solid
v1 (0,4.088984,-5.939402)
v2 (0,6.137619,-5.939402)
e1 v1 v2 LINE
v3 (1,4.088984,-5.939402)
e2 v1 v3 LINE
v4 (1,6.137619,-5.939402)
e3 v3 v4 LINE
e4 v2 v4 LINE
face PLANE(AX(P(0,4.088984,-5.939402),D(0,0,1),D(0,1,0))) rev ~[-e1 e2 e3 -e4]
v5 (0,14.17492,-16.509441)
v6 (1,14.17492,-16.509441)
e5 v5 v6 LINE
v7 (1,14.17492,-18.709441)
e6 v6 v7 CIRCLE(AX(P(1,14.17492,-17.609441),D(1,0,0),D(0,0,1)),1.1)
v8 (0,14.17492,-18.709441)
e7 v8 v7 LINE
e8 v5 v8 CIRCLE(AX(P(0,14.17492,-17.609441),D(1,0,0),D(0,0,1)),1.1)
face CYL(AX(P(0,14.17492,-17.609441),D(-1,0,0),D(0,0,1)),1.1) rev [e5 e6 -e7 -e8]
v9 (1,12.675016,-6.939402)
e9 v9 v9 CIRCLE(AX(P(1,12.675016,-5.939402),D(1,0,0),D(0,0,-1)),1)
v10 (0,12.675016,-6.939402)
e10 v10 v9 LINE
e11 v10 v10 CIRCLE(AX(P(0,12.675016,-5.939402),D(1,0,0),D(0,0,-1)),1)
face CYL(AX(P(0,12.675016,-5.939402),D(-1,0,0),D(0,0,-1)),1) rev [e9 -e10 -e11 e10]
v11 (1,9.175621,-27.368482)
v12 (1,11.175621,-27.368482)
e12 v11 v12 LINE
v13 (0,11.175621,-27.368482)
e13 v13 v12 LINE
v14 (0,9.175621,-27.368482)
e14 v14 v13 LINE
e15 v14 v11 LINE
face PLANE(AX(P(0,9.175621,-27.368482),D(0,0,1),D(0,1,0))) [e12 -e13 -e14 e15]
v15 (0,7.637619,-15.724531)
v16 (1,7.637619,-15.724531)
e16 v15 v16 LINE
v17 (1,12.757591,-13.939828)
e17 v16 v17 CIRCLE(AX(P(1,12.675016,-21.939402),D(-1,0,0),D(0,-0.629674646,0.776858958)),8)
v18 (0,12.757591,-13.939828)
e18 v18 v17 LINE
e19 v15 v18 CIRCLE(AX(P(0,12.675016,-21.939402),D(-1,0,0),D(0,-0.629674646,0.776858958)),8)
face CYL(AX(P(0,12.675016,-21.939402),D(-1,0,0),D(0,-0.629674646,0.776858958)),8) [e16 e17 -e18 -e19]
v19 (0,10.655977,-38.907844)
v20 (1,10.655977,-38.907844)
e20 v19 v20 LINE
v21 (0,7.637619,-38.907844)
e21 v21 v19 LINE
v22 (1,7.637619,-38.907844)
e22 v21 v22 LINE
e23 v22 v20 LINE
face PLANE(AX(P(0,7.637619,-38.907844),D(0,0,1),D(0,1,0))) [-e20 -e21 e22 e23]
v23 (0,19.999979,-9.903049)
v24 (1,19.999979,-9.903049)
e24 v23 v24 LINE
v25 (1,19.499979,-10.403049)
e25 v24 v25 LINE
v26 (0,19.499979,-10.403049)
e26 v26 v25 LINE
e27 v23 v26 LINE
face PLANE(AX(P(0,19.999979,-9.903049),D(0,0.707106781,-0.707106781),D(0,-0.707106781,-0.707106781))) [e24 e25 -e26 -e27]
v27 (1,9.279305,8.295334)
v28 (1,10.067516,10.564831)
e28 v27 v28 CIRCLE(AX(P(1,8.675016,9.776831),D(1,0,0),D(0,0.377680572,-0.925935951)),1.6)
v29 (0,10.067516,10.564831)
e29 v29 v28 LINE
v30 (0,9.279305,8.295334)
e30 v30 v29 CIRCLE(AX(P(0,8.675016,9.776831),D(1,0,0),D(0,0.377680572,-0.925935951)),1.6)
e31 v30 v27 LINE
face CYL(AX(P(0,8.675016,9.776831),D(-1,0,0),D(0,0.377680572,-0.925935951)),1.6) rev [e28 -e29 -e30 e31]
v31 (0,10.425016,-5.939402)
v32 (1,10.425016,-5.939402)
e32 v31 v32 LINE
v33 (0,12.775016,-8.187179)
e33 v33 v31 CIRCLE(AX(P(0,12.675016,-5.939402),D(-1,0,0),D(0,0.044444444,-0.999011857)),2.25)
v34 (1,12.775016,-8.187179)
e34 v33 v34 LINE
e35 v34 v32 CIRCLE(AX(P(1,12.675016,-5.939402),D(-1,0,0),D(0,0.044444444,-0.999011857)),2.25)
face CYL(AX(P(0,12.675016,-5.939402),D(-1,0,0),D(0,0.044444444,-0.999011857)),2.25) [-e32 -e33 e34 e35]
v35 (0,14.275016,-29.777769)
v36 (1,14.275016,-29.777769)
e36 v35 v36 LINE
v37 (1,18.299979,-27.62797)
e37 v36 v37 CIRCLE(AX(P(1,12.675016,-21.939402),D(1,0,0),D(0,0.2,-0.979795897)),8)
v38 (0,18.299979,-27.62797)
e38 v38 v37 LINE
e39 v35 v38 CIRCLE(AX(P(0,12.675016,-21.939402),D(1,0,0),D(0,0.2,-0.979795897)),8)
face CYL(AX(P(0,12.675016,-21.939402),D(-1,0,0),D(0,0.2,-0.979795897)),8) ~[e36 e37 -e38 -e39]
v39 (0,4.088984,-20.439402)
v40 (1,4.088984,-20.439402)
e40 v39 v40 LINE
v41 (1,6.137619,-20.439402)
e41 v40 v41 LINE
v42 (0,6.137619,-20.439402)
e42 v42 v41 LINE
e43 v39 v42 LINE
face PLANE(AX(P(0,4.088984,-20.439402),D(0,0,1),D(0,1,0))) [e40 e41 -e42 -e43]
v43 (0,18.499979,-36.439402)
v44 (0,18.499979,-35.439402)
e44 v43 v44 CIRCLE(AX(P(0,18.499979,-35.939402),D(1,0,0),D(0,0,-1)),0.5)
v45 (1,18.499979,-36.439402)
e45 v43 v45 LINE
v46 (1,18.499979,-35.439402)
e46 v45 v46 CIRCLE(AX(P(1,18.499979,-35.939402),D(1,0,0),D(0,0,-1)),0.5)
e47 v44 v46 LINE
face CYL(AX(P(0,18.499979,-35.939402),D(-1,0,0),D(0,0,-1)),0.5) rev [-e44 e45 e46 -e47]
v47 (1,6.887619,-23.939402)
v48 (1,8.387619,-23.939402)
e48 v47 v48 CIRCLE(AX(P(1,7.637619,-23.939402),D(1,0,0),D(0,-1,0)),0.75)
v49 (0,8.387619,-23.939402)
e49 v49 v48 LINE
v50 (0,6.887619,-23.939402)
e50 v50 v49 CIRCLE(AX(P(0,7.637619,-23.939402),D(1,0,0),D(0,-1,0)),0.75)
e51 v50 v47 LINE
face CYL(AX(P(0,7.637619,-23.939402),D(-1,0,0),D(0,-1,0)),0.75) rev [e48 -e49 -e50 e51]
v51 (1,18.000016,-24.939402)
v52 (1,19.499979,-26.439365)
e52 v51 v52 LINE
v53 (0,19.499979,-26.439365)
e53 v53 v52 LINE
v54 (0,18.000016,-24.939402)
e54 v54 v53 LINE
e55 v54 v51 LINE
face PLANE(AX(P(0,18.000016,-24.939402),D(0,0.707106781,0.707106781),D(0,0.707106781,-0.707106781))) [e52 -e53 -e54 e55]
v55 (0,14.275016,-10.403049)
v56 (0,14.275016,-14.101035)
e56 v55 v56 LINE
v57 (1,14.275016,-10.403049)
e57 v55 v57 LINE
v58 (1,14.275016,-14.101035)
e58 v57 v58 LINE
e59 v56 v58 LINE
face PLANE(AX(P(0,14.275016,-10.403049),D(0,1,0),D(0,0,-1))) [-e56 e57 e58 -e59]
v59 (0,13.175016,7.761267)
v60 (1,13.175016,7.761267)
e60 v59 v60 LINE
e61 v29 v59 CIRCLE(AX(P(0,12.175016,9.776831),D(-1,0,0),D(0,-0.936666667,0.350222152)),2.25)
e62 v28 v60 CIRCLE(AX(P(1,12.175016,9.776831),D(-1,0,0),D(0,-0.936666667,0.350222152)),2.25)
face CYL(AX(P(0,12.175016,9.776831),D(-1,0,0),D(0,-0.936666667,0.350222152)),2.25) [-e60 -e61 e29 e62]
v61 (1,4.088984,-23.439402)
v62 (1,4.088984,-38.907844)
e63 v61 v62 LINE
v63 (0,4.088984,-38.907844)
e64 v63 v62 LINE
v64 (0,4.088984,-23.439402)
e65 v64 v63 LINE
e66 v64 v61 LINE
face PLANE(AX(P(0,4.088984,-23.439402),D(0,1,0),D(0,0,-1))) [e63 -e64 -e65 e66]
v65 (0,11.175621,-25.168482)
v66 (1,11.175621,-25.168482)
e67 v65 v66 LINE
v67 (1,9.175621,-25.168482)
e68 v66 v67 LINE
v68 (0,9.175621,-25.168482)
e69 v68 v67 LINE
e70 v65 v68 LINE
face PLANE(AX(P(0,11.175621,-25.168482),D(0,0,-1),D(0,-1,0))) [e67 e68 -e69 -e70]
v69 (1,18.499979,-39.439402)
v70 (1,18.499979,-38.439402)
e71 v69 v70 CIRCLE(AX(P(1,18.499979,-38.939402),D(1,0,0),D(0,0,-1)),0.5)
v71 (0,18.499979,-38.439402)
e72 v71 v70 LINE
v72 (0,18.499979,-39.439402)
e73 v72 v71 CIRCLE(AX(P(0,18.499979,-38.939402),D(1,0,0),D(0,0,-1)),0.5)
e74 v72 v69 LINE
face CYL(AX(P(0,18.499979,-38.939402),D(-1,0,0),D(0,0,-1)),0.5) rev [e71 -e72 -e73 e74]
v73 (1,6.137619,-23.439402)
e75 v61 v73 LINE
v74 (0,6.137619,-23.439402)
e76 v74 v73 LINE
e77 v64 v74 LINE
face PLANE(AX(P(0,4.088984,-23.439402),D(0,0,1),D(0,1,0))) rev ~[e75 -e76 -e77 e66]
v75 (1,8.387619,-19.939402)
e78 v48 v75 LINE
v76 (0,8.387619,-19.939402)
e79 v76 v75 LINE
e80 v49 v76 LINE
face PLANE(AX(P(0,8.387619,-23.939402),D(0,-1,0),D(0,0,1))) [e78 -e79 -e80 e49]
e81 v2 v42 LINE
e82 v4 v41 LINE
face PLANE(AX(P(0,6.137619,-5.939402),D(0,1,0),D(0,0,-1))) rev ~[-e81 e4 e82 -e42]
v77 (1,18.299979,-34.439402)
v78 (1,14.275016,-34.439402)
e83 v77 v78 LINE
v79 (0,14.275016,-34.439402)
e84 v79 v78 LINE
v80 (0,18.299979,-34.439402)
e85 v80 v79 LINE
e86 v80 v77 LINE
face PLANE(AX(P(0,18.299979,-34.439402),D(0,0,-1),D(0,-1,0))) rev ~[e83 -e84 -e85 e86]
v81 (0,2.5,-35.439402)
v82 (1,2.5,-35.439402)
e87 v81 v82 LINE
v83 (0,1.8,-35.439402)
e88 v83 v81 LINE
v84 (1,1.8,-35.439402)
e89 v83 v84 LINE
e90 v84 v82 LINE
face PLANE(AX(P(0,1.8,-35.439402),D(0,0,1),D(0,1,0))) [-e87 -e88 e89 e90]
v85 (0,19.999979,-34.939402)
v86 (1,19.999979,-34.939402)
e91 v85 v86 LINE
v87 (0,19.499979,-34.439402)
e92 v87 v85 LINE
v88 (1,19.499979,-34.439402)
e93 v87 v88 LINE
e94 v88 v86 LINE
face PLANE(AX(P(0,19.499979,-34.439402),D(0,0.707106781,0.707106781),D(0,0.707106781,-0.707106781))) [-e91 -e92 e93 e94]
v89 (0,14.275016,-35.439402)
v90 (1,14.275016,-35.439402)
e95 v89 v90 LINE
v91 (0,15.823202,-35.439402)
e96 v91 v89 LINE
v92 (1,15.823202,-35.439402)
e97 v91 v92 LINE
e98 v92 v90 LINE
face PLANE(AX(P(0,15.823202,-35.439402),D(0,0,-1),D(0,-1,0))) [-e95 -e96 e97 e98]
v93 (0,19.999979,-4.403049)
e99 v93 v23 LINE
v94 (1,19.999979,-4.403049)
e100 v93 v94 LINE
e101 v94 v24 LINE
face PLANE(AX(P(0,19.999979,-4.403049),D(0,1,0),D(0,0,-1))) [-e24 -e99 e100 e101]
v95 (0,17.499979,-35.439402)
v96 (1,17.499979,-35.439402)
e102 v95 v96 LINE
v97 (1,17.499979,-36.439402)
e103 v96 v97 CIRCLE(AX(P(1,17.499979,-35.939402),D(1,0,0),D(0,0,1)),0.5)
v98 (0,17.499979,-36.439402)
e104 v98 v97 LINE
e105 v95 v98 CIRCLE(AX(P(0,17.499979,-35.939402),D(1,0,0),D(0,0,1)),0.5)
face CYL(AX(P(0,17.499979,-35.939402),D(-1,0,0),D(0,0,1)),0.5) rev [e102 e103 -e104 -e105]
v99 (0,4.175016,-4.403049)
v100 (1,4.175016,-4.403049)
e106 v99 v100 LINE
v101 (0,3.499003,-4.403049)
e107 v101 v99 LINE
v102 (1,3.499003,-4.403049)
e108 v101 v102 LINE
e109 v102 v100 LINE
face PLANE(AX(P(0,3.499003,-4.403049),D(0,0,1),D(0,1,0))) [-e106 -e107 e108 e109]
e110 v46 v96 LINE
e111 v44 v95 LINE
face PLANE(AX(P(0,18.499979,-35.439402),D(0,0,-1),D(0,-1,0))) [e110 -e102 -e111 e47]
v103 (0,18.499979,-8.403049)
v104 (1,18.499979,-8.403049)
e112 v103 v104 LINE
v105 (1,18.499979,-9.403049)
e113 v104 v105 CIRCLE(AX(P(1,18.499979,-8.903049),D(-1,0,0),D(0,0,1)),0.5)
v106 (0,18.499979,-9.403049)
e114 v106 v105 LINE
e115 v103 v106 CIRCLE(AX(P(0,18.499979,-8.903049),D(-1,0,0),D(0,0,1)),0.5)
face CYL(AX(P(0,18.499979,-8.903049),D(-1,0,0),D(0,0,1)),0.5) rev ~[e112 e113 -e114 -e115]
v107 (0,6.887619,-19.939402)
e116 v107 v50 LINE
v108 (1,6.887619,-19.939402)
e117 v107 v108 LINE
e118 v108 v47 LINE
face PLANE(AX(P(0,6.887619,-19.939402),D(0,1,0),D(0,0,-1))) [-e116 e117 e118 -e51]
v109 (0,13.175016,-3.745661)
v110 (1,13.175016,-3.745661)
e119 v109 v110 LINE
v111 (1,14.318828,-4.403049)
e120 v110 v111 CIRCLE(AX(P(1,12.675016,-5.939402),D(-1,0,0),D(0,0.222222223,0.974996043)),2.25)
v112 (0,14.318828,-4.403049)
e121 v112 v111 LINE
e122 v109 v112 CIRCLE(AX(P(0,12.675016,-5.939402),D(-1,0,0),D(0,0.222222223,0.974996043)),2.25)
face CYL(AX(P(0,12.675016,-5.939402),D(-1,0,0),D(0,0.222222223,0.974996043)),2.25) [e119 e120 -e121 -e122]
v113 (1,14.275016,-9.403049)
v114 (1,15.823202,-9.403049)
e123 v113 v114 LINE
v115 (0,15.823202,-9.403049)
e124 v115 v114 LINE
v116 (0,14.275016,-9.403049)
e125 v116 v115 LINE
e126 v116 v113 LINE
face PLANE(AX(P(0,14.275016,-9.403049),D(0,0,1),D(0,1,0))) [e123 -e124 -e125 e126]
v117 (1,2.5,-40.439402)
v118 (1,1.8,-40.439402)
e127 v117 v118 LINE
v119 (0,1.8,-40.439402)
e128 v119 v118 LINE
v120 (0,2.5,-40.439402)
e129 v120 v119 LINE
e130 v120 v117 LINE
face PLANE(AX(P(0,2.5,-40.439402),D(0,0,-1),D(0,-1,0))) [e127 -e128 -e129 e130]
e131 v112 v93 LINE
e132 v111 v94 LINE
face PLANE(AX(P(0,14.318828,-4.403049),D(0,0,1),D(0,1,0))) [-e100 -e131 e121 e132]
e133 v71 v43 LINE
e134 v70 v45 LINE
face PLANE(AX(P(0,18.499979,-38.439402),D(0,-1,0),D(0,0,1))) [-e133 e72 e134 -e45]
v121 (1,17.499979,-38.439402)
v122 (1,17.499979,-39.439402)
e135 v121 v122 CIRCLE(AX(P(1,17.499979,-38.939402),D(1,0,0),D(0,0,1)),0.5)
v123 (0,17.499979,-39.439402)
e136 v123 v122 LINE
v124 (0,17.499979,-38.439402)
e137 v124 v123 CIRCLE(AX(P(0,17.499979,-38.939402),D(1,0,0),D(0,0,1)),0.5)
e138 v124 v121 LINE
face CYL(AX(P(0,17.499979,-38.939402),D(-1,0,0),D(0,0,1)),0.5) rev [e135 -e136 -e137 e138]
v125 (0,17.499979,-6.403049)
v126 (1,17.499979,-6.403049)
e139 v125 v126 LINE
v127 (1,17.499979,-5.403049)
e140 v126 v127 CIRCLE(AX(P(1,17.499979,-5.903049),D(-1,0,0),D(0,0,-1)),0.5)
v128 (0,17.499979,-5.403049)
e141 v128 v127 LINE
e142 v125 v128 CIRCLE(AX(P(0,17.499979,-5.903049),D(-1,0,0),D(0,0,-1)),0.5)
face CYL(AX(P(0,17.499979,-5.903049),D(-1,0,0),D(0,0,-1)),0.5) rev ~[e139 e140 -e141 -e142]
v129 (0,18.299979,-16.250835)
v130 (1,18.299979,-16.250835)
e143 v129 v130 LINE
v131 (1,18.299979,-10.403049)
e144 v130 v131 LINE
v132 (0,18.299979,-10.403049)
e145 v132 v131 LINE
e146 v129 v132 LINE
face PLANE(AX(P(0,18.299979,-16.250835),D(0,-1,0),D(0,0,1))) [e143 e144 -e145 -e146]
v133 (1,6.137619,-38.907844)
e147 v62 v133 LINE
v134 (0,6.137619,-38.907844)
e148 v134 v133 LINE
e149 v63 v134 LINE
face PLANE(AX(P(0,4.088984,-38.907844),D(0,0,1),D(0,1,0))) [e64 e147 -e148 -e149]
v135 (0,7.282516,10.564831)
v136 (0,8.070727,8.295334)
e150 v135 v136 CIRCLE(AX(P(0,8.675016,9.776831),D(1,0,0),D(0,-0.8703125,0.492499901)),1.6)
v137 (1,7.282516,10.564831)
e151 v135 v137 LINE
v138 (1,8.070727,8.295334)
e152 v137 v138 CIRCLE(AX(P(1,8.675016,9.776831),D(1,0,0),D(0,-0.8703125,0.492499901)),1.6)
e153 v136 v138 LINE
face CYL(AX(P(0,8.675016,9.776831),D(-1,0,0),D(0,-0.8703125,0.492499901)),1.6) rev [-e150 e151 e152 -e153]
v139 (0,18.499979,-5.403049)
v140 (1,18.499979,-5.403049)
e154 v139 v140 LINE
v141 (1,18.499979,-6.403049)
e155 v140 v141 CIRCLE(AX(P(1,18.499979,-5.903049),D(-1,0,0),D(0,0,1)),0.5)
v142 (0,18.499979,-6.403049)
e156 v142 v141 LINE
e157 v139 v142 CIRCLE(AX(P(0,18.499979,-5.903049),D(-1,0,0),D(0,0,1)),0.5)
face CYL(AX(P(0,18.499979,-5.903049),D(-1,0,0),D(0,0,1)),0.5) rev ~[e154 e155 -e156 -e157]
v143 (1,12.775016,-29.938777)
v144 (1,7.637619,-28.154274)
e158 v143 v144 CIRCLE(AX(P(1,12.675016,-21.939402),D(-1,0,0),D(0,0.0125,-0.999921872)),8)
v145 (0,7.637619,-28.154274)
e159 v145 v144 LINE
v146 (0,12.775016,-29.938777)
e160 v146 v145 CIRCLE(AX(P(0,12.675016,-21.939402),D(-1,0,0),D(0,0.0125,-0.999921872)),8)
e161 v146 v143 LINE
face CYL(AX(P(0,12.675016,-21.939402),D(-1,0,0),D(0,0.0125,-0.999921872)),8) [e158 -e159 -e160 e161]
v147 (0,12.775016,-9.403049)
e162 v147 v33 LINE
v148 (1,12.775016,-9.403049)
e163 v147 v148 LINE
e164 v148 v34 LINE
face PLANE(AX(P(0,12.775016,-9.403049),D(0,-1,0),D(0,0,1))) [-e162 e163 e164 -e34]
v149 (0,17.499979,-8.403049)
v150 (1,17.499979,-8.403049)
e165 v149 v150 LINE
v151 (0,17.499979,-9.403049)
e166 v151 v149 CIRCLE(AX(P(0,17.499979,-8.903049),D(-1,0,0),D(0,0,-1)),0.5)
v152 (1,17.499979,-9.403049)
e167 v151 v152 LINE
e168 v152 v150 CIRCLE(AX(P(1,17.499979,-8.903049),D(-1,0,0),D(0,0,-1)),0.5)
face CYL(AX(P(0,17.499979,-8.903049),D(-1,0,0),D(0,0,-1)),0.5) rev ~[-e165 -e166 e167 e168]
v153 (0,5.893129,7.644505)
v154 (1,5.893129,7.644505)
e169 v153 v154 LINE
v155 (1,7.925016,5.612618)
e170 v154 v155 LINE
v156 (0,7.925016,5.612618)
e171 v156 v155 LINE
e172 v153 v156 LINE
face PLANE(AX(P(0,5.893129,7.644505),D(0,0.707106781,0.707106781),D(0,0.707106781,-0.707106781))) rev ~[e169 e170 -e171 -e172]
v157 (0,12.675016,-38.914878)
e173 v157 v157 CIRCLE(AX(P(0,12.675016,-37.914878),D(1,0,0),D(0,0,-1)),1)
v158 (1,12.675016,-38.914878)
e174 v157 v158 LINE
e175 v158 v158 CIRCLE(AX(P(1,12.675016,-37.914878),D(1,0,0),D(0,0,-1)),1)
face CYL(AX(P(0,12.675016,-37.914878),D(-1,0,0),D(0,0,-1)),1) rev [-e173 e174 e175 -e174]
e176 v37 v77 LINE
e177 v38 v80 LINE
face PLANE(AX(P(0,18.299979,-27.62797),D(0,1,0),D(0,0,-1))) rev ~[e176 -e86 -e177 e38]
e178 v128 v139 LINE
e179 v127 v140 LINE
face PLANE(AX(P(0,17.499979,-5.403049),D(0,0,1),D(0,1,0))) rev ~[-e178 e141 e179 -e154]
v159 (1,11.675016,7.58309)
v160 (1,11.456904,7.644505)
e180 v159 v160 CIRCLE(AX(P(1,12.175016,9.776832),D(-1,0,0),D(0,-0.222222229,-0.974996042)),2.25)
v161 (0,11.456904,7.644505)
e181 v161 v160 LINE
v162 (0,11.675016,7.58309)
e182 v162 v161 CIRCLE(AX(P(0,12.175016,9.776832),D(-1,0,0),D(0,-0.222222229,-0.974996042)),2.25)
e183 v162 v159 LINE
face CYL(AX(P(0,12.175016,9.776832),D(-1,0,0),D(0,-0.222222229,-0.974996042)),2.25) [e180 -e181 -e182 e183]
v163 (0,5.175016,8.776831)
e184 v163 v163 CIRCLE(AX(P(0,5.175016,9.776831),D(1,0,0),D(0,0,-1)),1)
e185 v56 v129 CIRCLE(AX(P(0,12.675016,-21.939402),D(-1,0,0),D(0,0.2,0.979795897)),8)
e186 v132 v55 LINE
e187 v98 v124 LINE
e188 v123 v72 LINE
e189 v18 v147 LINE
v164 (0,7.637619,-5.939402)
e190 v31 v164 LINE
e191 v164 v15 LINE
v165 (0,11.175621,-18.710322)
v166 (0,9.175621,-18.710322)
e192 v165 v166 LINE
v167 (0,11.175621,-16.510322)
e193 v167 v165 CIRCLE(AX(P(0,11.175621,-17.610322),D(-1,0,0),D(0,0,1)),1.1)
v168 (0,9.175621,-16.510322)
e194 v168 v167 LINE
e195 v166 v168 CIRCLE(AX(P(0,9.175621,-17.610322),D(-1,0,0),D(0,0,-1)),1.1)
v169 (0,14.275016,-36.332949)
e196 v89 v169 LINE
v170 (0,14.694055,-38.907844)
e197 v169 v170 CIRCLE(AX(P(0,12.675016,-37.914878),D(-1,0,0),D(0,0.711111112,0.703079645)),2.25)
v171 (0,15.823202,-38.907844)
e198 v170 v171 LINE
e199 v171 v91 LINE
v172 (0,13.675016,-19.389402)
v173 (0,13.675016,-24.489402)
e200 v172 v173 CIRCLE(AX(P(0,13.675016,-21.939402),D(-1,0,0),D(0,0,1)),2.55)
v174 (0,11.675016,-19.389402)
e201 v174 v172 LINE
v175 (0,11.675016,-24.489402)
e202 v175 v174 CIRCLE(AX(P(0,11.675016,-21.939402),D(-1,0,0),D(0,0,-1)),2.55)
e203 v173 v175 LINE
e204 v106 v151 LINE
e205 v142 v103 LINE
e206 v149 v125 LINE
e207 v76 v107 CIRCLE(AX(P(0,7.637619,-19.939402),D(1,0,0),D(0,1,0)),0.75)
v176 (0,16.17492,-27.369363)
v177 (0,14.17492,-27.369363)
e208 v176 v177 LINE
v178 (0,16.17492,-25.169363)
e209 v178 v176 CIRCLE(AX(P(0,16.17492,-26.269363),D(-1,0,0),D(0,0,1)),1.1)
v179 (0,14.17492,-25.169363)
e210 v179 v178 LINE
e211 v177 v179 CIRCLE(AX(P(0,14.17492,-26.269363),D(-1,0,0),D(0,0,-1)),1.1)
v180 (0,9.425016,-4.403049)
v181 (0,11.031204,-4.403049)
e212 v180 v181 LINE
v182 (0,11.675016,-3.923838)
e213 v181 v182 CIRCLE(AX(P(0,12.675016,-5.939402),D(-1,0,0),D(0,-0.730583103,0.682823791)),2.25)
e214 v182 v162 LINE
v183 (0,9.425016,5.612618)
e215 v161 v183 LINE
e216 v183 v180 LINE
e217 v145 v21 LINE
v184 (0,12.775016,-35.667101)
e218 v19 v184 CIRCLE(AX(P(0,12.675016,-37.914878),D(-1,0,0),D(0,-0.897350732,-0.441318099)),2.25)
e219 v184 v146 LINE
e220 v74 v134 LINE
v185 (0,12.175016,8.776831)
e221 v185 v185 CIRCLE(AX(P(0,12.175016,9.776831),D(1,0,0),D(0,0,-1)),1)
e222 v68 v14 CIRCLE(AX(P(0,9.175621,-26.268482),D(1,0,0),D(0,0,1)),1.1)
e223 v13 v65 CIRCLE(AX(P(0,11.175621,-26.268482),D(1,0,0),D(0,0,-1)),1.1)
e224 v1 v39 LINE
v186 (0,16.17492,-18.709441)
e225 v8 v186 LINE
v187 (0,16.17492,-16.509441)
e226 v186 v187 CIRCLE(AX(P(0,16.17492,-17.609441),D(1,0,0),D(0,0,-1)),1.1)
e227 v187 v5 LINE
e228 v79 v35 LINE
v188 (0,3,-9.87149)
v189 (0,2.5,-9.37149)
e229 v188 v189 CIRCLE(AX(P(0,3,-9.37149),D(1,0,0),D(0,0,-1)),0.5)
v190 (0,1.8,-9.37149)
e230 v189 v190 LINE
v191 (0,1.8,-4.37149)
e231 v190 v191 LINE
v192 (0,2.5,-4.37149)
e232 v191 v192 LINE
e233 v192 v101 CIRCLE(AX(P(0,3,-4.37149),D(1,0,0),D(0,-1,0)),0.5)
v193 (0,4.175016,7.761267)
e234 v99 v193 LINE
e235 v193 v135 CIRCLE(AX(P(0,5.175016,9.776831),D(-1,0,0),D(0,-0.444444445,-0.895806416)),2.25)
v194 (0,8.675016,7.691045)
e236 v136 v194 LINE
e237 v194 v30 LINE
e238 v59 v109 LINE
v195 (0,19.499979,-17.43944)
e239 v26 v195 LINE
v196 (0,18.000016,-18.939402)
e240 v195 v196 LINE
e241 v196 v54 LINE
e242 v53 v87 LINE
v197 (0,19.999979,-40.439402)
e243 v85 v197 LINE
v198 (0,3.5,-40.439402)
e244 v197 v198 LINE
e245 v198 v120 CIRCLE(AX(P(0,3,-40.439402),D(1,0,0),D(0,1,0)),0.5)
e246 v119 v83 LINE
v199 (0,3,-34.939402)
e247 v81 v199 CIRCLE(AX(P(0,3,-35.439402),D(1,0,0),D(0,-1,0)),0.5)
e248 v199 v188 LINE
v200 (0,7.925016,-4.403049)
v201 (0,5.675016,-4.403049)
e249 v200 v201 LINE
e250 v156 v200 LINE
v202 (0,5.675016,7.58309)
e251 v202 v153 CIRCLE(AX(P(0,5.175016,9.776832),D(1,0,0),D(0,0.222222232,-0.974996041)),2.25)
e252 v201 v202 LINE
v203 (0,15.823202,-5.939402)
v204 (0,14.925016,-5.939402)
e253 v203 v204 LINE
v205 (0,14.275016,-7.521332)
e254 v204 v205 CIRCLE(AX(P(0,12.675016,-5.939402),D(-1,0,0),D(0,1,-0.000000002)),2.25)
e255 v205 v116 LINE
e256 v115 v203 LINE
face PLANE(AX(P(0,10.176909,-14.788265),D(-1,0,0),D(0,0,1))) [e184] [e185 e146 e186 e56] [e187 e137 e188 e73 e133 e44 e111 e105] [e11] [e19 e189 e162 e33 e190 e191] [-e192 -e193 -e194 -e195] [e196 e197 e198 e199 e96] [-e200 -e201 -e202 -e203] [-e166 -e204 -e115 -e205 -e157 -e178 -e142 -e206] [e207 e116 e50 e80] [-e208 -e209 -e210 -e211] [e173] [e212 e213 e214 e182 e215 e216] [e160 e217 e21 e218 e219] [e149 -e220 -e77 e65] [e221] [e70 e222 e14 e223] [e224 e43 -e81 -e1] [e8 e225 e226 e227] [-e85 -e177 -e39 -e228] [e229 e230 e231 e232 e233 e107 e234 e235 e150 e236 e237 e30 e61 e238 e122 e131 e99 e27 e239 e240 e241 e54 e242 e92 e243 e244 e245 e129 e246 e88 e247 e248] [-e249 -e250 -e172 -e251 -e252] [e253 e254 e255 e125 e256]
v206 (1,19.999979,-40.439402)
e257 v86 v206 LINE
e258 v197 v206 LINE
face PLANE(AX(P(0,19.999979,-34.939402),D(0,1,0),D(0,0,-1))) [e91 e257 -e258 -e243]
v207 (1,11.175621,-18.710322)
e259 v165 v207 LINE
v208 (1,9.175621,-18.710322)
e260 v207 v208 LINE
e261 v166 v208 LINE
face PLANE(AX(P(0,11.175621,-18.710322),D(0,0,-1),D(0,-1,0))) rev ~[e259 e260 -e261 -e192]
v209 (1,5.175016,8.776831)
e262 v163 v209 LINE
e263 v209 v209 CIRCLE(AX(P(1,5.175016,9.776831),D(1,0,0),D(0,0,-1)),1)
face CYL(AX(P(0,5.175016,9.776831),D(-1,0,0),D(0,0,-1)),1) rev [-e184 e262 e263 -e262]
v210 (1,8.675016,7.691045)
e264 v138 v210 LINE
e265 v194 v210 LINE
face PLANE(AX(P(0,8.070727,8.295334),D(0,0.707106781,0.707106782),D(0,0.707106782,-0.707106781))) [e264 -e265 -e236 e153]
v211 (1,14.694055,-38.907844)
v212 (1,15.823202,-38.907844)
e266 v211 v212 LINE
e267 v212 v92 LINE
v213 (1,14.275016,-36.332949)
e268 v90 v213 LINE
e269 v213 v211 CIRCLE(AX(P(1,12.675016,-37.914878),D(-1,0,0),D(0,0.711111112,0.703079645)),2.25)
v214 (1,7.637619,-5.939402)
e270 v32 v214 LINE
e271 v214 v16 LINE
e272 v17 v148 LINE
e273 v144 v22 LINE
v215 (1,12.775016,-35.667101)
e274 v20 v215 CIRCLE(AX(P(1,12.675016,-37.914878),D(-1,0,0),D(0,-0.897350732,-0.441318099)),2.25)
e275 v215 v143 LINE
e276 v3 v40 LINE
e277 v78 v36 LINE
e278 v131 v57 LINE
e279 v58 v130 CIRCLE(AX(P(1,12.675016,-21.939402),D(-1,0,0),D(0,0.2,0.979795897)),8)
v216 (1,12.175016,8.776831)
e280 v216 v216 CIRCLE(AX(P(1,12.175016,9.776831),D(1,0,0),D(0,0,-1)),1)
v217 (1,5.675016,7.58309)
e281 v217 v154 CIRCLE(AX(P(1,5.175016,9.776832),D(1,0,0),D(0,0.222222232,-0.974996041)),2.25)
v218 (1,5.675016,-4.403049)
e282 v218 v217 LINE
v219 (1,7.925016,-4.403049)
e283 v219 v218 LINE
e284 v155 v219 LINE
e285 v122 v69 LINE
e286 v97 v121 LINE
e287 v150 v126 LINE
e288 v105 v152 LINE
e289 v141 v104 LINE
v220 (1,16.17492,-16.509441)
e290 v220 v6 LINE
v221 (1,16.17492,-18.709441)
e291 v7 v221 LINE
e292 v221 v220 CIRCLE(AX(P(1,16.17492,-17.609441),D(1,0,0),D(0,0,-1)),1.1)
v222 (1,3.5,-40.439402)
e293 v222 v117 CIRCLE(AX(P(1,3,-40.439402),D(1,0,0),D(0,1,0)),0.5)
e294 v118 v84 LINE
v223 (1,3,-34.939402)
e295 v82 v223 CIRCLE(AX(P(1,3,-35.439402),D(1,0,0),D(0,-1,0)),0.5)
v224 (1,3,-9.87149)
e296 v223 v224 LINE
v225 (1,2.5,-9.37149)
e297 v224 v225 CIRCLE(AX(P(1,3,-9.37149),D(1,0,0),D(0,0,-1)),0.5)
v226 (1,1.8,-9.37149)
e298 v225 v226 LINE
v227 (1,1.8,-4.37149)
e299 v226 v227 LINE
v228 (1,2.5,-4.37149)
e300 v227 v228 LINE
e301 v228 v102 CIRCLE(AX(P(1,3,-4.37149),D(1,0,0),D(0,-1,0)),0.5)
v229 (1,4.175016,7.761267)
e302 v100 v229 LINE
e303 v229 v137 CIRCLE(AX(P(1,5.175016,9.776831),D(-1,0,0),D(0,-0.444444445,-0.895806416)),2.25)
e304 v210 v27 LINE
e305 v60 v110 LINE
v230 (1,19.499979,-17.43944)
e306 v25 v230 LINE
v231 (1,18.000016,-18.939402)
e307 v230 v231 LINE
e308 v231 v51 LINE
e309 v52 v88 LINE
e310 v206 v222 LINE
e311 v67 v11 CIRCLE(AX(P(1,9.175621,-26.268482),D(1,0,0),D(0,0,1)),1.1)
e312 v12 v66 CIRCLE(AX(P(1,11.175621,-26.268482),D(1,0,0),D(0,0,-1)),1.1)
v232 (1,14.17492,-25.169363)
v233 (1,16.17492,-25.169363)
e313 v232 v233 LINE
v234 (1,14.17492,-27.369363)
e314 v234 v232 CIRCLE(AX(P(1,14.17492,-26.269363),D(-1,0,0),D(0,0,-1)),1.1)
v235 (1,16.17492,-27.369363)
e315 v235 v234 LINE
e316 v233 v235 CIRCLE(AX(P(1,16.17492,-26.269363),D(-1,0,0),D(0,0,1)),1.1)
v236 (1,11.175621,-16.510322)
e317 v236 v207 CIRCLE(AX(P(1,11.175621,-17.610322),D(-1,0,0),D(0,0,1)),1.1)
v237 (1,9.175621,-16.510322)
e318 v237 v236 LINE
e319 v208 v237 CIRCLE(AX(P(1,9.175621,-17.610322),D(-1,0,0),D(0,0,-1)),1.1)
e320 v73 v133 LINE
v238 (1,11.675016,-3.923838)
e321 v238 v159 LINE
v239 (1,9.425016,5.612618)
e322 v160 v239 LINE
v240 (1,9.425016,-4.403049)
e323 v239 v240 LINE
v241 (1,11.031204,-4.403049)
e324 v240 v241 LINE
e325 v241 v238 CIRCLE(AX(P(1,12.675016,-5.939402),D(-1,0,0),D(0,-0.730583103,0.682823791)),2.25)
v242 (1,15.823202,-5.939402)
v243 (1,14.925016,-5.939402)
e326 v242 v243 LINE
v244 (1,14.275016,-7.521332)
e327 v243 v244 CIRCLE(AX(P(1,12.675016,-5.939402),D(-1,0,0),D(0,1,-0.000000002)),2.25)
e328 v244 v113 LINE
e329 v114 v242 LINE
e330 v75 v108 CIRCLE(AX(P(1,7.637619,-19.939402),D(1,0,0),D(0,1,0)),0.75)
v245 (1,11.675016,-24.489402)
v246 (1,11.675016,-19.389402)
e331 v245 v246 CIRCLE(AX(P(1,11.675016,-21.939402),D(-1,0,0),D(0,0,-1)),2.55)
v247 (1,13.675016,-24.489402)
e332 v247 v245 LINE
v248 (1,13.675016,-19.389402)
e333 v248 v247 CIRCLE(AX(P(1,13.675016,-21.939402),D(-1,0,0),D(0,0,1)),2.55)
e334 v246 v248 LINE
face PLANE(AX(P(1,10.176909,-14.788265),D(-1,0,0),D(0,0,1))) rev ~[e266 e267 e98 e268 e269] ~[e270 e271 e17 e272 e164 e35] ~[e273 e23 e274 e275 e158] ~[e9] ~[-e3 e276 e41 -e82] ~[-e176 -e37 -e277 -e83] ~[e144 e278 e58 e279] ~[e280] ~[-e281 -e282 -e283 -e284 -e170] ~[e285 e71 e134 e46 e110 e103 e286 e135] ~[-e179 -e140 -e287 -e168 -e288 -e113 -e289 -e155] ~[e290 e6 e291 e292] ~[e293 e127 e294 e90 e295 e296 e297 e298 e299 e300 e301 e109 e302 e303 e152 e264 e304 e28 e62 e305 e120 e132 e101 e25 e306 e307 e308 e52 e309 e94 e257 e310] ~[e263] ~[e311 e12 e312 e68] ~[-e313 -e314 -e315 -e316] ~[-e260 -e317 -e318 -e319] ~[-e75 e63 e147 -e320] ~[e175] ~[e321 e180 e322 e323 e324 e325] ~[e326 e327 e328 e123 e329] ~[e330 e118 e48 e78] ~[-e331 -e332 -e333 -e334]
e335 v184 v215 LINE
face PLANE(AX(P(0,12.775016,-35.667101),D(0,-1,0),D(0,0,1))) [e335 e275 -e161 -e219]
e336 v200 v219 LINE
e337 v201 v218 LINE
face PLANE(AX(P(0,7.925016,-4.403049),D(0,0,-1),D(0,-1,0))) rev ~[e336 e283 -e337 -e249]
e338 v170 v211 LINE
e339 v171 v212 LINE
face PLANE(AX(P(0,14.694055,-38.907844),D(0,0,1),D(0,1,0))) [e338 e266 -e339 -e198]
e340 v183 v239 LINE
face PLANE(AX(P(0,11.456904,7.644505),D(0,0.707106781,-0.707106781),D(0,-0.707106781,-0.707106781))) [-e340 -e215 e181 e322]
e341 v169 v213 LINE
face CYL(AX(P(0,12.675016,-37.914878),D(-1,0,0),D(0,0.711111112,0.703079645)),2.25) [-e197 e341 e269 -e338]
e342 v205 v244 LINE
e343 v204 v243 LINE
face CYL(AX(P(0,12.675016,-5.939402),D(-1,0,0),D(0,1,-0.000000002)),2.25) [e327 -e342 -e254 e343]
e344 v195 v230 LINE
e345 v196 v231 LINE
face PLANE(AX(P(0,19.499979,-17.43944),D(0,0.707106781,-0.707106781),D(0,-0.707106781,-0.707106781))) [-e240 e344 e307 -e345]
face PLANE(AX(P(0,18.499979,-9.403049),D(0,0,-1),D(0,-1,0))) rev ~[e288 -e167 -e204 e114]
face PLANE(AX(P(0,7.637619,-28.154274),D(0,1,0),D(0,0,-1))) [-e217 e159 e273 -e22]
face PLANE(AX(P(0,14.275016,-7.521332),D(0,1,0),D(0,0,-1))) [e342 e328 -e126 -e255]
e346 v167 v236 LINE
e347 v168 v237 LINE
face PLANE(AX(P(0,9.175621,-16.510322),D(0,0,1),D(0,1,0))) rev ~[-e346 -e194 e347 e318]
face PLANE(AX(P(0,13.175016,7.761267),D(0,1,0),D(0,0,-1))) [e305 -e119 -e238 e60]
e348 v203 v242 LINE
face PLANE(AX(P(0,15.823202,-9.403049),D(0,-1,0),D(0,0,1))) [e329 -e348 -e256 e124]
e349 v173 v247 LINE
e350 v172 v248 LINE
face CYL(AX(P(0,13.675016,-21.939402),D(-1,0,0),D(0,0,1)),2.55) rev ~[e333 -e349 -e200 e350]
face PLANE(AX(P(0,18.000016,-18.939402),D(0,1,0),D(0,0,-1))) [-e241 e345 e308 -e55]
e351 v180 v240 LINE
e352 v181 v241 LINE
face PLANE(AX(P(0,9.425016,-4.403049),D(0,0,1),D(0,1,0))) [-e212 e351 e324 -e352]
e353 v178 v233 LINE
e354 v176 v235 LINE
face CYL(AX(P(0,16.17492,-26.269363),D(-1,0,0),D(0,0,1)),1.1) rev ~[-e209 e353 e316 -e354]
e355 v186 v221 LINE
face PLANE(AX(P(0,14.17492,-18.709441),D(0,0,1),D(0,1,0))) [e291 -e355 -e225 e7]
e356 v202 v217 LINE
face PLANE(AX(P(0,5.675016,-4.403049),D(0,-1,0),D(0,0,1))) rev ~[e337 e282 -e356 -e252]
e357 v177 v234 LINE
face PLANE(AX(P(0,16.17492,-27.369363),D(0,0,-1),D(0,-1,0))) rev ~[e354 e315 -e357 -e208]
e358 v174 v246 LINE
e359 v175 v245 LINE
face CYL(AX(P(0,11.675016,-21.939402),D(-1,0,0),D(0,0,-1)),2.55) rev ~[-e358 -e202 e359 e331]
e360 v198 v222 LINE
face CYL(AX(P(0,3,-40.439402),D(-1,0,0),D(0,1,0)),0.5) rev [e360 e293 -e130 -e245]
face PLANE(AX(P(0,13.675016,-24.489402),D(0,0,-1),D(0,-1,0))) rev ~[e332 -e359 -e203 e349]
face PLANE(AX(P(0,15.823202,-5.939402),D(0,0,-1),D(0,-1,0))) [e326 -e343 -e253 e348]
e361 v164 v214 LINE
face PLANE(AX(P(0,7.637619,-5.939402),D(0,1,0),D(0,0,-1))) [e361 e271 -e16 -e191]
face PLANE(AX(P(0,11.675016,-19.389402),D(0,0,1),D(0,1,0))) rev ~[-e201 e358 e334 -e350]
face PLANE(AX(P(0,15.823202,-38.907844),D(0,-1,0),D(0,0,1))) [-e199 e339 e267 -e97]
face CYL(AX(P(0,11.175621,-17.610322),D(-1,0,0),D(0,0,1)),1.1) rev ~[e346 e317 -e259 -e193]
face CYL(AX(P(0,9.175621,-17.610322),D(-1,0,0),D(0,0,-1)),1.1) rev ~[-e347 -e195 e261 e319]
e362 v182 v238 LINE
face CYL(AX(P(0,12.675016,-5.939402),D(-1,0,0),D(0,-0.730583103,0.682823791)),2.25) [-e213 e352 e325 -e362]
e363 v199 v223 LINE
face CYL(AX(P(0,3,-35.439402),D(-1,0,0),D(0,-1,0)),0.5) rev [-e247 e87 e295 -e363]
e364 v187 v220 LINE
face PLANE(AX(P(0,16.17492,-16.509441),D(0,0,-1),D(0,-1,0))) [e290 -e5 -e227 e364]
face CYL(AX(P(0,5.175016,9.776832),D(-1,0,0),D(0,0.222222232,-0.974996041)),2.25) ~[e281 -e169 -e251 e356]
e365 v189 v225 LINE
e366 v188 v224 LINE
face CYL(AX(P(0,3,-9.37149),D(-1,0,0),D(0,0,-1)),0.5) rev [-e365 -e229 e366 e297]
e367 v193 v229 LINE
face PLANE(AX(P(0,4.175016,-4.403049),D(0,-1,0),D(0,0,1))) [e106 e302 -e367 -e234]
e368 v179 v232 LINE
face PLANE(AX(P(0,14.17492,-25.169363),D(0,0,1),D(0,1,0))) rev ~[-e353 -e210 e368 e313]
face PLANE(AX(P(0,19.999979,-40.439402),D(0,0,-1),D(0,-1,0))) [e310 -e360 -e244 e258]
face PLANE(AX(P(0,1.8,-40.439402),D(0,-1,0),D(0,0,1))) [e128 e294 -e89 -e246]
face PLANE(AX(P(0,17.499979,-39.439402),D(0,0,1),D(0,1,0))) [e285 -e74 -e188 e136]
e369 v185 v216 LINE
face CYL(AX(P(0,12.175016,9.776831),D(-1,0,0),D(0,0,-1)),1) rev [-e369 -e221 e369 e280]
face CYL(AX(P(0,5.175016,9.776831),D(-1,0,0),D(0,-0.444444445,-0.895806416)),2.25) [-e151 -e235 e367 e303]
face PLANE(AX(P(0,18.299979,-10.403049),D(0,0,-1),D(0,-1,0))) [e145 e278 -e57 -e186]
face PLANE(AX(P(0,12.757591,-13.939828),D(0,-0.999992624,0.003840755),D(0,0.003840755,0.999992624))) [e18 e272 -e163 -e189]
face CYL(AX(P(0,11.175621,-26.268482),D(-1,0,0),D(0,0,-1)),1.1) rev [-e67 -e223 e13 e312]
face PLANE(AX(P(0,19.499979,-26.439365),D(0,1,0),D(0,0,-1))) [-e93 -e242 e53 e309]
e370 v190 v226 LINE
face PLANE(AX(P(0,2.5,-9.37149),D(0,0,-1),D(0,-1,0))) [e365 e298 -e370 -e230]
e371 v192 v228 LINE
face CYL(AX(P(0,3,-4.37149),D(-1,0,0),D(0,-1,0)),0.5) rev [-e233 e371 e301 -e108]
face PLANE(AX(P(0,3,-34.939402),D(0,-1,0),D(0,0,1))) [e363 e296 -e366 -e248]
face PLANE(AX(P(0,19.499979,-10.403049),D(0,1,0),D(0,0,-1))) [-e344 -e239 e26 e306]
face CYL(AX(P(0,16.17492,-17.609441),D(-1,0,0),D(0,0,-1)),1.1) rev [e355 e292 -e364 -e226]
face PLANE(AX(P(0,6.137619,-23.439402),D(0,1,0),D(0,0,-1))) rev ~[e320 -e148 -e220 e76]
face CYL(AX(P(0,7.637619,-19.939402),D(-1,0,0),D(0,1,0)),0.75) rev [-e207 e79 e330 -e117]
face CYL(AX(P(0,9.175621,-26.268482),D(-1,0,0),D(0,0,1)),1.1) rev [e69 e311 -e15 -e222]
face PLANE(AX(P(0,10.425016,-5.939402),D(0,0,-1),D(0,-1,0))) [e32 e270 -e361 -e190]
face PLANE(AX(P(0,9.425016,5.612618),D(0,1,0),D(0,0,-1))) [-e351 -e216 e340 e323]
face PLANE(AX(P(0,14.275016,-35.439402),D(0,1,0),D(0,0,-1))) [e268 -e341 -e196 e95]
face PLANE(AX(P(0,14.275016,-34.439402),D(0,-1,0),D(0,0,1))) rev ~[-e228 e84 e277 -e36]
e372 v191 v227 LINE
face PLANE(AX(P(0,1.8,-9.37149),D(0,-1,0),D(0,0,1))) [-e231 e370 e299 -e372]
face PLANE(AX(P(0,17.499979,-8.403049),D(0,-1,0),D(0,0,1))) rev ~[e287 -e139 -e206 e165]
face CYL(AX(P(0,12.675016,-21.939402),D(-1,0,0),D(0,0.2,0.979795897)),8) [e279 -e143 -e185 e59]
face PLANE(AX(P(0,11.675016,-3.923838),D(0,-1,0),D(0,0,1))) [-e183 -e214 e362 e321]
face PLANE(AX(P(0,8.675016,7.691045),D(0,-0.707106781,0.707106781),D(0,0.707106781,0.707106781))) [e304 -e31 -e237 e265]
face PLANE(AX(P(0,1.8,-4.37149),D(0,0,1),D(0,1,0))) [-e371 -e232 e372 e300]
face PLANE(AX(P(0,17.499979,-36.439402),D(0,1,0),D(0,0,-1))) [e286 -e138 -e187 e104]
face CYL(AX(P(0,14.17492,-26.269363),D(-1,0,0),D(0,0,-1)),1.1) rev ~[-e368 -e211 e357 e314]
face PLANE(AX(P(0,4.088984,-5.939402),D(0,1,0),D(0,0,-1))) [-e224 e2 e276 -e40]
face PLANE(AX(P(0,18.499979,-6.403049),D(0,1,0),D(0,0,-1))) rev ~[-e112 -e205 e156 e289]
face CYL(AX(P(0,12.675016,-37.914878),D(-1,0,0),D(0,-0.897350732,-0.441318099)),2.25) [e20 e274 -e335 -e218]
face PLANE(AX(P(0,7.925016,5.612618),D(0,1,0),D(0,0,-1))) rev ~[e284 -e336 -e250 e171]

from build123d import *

# Parameters (mm, degrees)
SKETCH_1_R          = 1
EXTRUDE_1_DEPTH     = 1
CUT_EXTRUDE_START   = -1
SKETCH_2_W          = 14.5
SKETCH_2_H          = 2.048634766
SKETCH_2_W_2        = 15.468441373
CUT_EXTRUDE_1_DEPTH = 1


with BuildPart() as part:
    # 草图1 → 凸台-拉伸1 (new body)
    with BuildSketch(Plane(origin=(0, 0, 0), x_dir=(0, 0, -1), z_dir=(1, 0, 0))):
        with BuildLine():
            Line((35.439402333, 1.8), (35.439402333, 2.5))
            ThreePointArc((35.439402333, 2.5), (35.792955724, 3.353553391), (34.939402333, 3))
            Line((34.939402333, 3), (9.871490109, 3))
            ThreePointArc((9.871490109, 3), (9.017936719, 3.353553391), (9.371490109, 2.5))
            Line((9.371490109, 2.5), (9.371490109, 1.8))
            Line((9.371490109, 1.8), (4.371490109, 1.8))
            Line((4.371490109, 1.8), (4.371490109, 2.5))
            ThreePointArc((4.371490109, 2.5), (4.871240811, 2.984212798), (4.40304877, 3.499003057))
            Line((4.40304877, 3.499003057), (4.40304877, 4.175016197))
            Line((4.40304877, 4.175016197), (-7.761266908, 4.175016197))
            ThreePointArc((-7.761266908, 4.175016197), (-11.447420394, 3.667822703), (-10.564831187, 7.282516197))
            ThreePointArc((-10.564831187, 7.282516197), (-9.251899029, 7.163577788), (-8.295333824, 8.07072728))
            Line((-8.295333824, 8.07072728), (-7.691044908, 8.675016197))
            Line((-7.691044908, 8.675016197), (-8.295333824, 9.279305113))
            ThreePointArc((-8.295333824, 9.279305113), (-9.251899029, 10.186454606), (-10.564831187, 10.067516197))
            ThreePointArc((-10.564831187, 10.067516197), (-11.447420394, 13.682209691), (-7.761266908, 13.175016197))
            Line((-7.761266908, 13.175016197), (3.745661203, 13.175016197))
            ThreePointArc((3.745661203, 13.175016197), (3.988638874, 13.796186146), (4.40304877, 14.318828178))
            Line((4.40304877, 14.318828178), (4.40304877, 17.799978598))
            Line((4.40304877, 17.799978598), (4.40304877, 18.299978598))
            Line((4.40304877, 18.299978598), (4.40304877, 19.499978598))
            Line((4.40304877, 19.499978598), (4.40304877, 19.999978598))
            Line((4.40304877, 19.999978598), (9.90304877, 19.999978598))
            Line((9.90304877, 19.999978598), (10.40304877, 19.499978598))
            Line((10.40304877, 19.499978598), (17.439439899, 19.499978598))
            Line((17.439439899, 19.499978598), (18.9394023, 18.000016197))
            Line((18.9394023, 18.000016197), (21.9394023, 18.000016197))
            Line((21.9394023, 18.000016197), (24.9394023, 18.000016197))
            Line((24.9394023, 18.000016197), (26.439364701, 19.499978598))
            Line((26.439364701, 19.499978598), (34.439402333, 19.499978598))
            Line((34.439402333, 19.499978598), (34.939402333, 19.999978598))
            Line((34.939402333, 19.999978598), (40.439402333, 19.999978598))
            Line((40.439402333, 19.999978598), (40.439402333, 19.499978598))
            Line((40.439402333, 19.499978598), (40.439402333, 18.299978598))
            Line((40.439402333, 18.299978598), (40.439402333, 17.799978598))
            Line((40.439402333, 17.799978598), (40.439402333, 14.275016197))
            Line((40.439402333, 14.275016197), (40.439402333, 3.5))
            ThreePointArc((40.439402333, 3.5), (39.939402333, 3), (40.439402333, 2.5))
            Line((40.439402333, 2.5), (40.439402333, 1.8))
            Line((40.439402333, 1.8), (35.439402333, 1.8))
        make_face()
        with Locations((5.9394023, 12.675016197)):
            Circle(SKETCH_1_R, mode=Mode.SUBTRACT)
        with Locations((-9.776831345, 12.175016197)):
            Circle(SKETCH_1_R, mode=Mode.SUBTRACT)
        with Locations((-9.776831345, 5.175016197)):
            Circle(SKETCH_1_R, mode=Mode.SUBTRACT)
        with Locations((37.914877951, 12.675016197)):
            Circle(SKETCH_1_R, mode=Mode.SUBTRACT)
        with BuildLine():
            Line((19.3894023, 11.675016197), (19.3894023, 13.675016197))
            ThreePointArc((19.3894023, 13.675016197), (21.9394023, 16.225016197), (24.4894023, 13.675016197))
            Line((24.4894023, 13.675016197), (24.4894023, 11.675016197))
            ThreePointArc((24.4894023, 11.675016197), (21.9394023, 9.125016197), (19.3894023, 11.675016197))
        make_face(mode=Mode.SUBTRACT)
        with BuildLine():
            Line((27.369363454, 16.174920434), (27.369363454, 14.174920434))
            ThreePointArc((27.369363454, 14.174920434), (26.269363454, 13.074920434), (25.169363454, 14.174920434))
            Line((25.169363454, 14.174920434), (25.169363454, 16.174920434))
            ThreePointArc((25.169363454, 16.174920434), (26.269363454, 17.274920434), (27.369363454, 16.174920434))
        make_face(mode=Mode.SUBTRACT)
        with BuildLine():
            Line((16.510322262, 9.175620671), (16.510322262, 11.175620671))
            ThreePointArc((16.510322262, 11.175620671), (17.610322262, 12.275620671), (18.710322262, 11.175620671))
            Line((18.710322262, 11.175620671), (18.710322262, 9.175620671))
            ThreePointArc((18.710322262, 9.175620671), (17.610322262, 8.075620671), (16.510322262, 9.175620671))
        make_face(mode=Mode.SUBTRACT)
        with BuildLine():
            Line((27.368482338, 9.175620671), (27.368482338, 11.175620671))
            ThreePointArc((27.368482338, 11.175620671), (26.268482338, 12.275620671), (25.168482338, 11.175620671))
            Line((25.168482338, 11.175620671), (25.168482338, 9.175620671))
            ThreePointArc((25.168482338, 9.175620671), (26.268482338, 8.075620671), (27.368482338, 9.175620671))
        make_face(mode=Mode.SUBTRACT)
        with BuildLine():
            Line((16.509441146, 16.174920434), (16.509441146, 14.174920434))
            ThreePointArc((16.509441146, 14.174920434), (17.609441146, 13.074920434), (18.709441146, 14.174920434))
            Line((18.709441146, 14.174920434), (18.709441146, 16.174920434))
            ThreePointArc((18.709441146, 16.174920434), (17.609441146, 17.274920434), (16.509441146, 16.174920434))
        make_face(mode=Mode.SUBTRACT)
        with BuildLine():
            Line((10.40304877, 17.799978598), (10.40304877, 14.275016197))
            Line((10.40304877, 14.275016197), (14.101035123, 14.275016197))
            ThreePointArc((14.101035123, 14.275016197), (14.882875555, 16.44402539), (16.250834995, 18.299978598))
            Line((16.250834995, 18.299978598), (10.40304877, 18.299978598))
            Line((10.40304877, 18.299978598), (10.40304877, 17.799978598))
        make_face(mode=Mode.SUBTRACT)
        with BuildLine():
            Line((34.439402333, 17.799978598), (34.439402333, 14.275016197))
            Line((34.439402333, 14.275016197), (29.777769477, 14.275016197))
            ThreePointArc((29.777769477, 14.275016197), (28.995929045, 16.44402539), (27.627969606, 18.299978598))
            Line((27.627969606, 18.299978598), (34.439402333, 18.299978598))
            Line((34.439402333, 18.299978598), (34.439402333, 17.799978598))
        make_face(mode=Mode.SUBTRACT)
        with BuildLine():
            Line((36.439402333, 17.499978598), (38.439402333, 17.499978598))
            ThreePointArc((38.439402333, 17.499978598), (38.939402333, 16.999978598), (39.439402333, 17.499978598))
            Line((39.439402333, 17.499978598), (39.439402333, 18.499978598))
            ThreePointArc((39.439402333, 18.499978598), (38.939402333, 18.999978598), (38.439402333, 18.499978598))
            Line((38.439402333, 18.499978598), (36.439402333, 18.499978598))
            ThreePointArc((36.439402333, 18.499978598), (35.939402333, 18.999978598), (35.439402333, 18.499978598))
            Line((35.439402333, 18.499978598), (35.439402333, 17.499978598))
            ThreePointArc((35.439402333, 17.499978598), (35.939402333, 16.999978598), (36.439402333, 17.499978598))
        make_face(mode=Mode.SUBTRACT)
        with BuildLine():
            Line((6.40304877, 18.499978598), (8.40304877, 18.499978598))
            ThreePointArc((8.40304877, 18.499978598), (8.90304877, 18.999978598), (9.40304877, 18.499978598))
            Line((9.40304877, 18.499978598), (9.40304877, 17.499978598))
            ThreePointArc((9.40304877, 17.499978598), (8.90304877, 16.999978598), (8.40304877, 17.499978598))
            Line((8.40304877, 17.499978598), (6.40304877, 17.499978598))
            ThreePointArc((6.40304877, 17.499978598), (5.90304877, 16.999978598), (5.40304877, 17.499978598))
            Line((5.40304877, 17.499978598), (5.40304877, 18.499978598))
            ThreePointArc((5.40304877, 18.499978598), (5.90304877, 18.999978598), (6.40304877, 18.499978598))
        make_face(mode=Mode.SUBTRACT)
        with BuildLine():
            Line((3.923837863, 11.675016197), (-7.583090248, 11.675016197))
            ThreePointArc((-7.583090248, 11.675016197), (-7.611050301, 11.565186329), (-7.644505283, 11.456903696))
            Line((-7.644505283, 11.456903696), (-5.612617783, 9.425016197))
            Line((-5.612617783, 9.425016197), (4.40304877, 9.425016197))
            Line((4.40304877, 9.425016197), (4.40304877, 11.031204216))
            ThreePointArc((4.40304877, 11.031204216), (4.134505135, 11.331570544), (3.923837863, 11.675016197))
        make_face(mode=Mode.SUBTRACT)
        with BuildLine():
            Line((4.40304877, 5.675016197), (-7.583090248, 5.675016197))
            ThreePointArc((-7.583090248, 5.675016197), (-7.611050301, 5.784846064), (-7.644505283, 5.893128697))
            Line((-7.644505283, 5.893128697), (-5.612617783, 7.925016197))
            Line((-5.612617783, 7.925016197), (4.40304877, 7.925016197))
            Line((4.40304877, 7.925016197), (4.40304877, 5.675016197))
        make_face(mode=Mode.SUBTRACT)
    extrude(amount=EXTRUDE_1_DEPTH)

    # 草图2 → 切除-拉伸1 (cut)
    with BuildSketch(Plane(origin=(1, 0, 0), x_dir=(0, 0, -1), z_dir=(1, 0, 0)).offset(CUT_EXTRUDE_START)):
        with BuildLine():
            Line((13.939828478, 12.757591408), (9.40304877, 12.775016197))
            Line((9.40304877, 12.775016197), (8.18717898, 12.775016197))
            ThreePointArc((8.18717898, 12.775016197), (7.565363554, 11.119783095), (5.9394023, 10.425016197))
            Line((5.9394023, 10.425016197), (5.9394023, 7.637619031))
            Line((5.9394023, 7.637619031), (15.724530637, 7.637619031))
            ThreePointArc((15.724530637, 7.637619031), (14.385188615, 10.041794672), (13.939828478, 12.757591408))
        make_face()
        with BuildLine():
            Line((9.40304877, 15.823201902), (5.9394023, 15.823201902))
            Line((5.9394023, 15.823201902), (5.9394023, 14.925016197))
            ThreePointArc((5.9394023, 14.925016197), (6.794533869, 14.756181735), (7.521331502, 14.275016197))
            Line((7.521331502, 14.275016197), (9.40304877, 14.275016197))
            Line((9.40304877, 14.275016197), (9.40304877, 15.823201902))
        make_face()
        with Locations((13.1894023, 5.113301648)):
            Rectangle(SKETCH_2_W, SKETCH_2_H)
        with BuildLine():
            Line((38.907843673, 7.637619031), (38.907843673, 10.65597705))
            ThreePointArc((38.907843673, 10.65597705), (36.683529357, 10.791859103), (35.667101272, 12.775016197))
            Line((35.667101272, 12.775016197), (29.938777276, 12.775016197))
            ThreePointArc((29.938777276, 12.775016197), (29.4964794, 10.05002368), (28.154273964, 7.637619031))
            Line((28.154273964, 7.637619031), (38.907843673, 7.637619031))
        make_face()
        with Locations((31.173622986, 5.113301648)):
            Rectangle(SKETCH_2_W_2, SKETCH_2_H)
        with BuildLine():
            Line((38.907843673, 15.823201902), (35.439402333, 15.823201902))
            Line((35.439402333, 15.823201902), (35.439402333, 14.275016197))
            Line((35.439402333, 14.275016197), (36.332948749, 14.275016197))
            ThreePointArc((36.332948749, 14.275016197), (37.553466901, 14.895800304), (38.907843673, 14.694055343))
            Line((38.907843673, 14.694055343), (38.907843673, 15.823201902))
        make_face()
        with BuildLine():
            Line((19.9394023, 6.887619031), (23.9394023, 6.887619031))
            ThreePointArc((23.9394023, 6.887619031), (24.6894023, 7.637619031), (23.9394023, 8.387619031))
            Line((23.9394023, 8.387619031), (19.9394023, 8.387619031))
            ThreePointArc((19.9394023, 8.387619031), (19.1894023, 7.637619031), (19.9394023, 6.887619031))
        make_face()
    extrude(amount=CUT_EXTRUDE_1_DEPTH, mode=Mode.SUBTRACT)


solid = part.part
